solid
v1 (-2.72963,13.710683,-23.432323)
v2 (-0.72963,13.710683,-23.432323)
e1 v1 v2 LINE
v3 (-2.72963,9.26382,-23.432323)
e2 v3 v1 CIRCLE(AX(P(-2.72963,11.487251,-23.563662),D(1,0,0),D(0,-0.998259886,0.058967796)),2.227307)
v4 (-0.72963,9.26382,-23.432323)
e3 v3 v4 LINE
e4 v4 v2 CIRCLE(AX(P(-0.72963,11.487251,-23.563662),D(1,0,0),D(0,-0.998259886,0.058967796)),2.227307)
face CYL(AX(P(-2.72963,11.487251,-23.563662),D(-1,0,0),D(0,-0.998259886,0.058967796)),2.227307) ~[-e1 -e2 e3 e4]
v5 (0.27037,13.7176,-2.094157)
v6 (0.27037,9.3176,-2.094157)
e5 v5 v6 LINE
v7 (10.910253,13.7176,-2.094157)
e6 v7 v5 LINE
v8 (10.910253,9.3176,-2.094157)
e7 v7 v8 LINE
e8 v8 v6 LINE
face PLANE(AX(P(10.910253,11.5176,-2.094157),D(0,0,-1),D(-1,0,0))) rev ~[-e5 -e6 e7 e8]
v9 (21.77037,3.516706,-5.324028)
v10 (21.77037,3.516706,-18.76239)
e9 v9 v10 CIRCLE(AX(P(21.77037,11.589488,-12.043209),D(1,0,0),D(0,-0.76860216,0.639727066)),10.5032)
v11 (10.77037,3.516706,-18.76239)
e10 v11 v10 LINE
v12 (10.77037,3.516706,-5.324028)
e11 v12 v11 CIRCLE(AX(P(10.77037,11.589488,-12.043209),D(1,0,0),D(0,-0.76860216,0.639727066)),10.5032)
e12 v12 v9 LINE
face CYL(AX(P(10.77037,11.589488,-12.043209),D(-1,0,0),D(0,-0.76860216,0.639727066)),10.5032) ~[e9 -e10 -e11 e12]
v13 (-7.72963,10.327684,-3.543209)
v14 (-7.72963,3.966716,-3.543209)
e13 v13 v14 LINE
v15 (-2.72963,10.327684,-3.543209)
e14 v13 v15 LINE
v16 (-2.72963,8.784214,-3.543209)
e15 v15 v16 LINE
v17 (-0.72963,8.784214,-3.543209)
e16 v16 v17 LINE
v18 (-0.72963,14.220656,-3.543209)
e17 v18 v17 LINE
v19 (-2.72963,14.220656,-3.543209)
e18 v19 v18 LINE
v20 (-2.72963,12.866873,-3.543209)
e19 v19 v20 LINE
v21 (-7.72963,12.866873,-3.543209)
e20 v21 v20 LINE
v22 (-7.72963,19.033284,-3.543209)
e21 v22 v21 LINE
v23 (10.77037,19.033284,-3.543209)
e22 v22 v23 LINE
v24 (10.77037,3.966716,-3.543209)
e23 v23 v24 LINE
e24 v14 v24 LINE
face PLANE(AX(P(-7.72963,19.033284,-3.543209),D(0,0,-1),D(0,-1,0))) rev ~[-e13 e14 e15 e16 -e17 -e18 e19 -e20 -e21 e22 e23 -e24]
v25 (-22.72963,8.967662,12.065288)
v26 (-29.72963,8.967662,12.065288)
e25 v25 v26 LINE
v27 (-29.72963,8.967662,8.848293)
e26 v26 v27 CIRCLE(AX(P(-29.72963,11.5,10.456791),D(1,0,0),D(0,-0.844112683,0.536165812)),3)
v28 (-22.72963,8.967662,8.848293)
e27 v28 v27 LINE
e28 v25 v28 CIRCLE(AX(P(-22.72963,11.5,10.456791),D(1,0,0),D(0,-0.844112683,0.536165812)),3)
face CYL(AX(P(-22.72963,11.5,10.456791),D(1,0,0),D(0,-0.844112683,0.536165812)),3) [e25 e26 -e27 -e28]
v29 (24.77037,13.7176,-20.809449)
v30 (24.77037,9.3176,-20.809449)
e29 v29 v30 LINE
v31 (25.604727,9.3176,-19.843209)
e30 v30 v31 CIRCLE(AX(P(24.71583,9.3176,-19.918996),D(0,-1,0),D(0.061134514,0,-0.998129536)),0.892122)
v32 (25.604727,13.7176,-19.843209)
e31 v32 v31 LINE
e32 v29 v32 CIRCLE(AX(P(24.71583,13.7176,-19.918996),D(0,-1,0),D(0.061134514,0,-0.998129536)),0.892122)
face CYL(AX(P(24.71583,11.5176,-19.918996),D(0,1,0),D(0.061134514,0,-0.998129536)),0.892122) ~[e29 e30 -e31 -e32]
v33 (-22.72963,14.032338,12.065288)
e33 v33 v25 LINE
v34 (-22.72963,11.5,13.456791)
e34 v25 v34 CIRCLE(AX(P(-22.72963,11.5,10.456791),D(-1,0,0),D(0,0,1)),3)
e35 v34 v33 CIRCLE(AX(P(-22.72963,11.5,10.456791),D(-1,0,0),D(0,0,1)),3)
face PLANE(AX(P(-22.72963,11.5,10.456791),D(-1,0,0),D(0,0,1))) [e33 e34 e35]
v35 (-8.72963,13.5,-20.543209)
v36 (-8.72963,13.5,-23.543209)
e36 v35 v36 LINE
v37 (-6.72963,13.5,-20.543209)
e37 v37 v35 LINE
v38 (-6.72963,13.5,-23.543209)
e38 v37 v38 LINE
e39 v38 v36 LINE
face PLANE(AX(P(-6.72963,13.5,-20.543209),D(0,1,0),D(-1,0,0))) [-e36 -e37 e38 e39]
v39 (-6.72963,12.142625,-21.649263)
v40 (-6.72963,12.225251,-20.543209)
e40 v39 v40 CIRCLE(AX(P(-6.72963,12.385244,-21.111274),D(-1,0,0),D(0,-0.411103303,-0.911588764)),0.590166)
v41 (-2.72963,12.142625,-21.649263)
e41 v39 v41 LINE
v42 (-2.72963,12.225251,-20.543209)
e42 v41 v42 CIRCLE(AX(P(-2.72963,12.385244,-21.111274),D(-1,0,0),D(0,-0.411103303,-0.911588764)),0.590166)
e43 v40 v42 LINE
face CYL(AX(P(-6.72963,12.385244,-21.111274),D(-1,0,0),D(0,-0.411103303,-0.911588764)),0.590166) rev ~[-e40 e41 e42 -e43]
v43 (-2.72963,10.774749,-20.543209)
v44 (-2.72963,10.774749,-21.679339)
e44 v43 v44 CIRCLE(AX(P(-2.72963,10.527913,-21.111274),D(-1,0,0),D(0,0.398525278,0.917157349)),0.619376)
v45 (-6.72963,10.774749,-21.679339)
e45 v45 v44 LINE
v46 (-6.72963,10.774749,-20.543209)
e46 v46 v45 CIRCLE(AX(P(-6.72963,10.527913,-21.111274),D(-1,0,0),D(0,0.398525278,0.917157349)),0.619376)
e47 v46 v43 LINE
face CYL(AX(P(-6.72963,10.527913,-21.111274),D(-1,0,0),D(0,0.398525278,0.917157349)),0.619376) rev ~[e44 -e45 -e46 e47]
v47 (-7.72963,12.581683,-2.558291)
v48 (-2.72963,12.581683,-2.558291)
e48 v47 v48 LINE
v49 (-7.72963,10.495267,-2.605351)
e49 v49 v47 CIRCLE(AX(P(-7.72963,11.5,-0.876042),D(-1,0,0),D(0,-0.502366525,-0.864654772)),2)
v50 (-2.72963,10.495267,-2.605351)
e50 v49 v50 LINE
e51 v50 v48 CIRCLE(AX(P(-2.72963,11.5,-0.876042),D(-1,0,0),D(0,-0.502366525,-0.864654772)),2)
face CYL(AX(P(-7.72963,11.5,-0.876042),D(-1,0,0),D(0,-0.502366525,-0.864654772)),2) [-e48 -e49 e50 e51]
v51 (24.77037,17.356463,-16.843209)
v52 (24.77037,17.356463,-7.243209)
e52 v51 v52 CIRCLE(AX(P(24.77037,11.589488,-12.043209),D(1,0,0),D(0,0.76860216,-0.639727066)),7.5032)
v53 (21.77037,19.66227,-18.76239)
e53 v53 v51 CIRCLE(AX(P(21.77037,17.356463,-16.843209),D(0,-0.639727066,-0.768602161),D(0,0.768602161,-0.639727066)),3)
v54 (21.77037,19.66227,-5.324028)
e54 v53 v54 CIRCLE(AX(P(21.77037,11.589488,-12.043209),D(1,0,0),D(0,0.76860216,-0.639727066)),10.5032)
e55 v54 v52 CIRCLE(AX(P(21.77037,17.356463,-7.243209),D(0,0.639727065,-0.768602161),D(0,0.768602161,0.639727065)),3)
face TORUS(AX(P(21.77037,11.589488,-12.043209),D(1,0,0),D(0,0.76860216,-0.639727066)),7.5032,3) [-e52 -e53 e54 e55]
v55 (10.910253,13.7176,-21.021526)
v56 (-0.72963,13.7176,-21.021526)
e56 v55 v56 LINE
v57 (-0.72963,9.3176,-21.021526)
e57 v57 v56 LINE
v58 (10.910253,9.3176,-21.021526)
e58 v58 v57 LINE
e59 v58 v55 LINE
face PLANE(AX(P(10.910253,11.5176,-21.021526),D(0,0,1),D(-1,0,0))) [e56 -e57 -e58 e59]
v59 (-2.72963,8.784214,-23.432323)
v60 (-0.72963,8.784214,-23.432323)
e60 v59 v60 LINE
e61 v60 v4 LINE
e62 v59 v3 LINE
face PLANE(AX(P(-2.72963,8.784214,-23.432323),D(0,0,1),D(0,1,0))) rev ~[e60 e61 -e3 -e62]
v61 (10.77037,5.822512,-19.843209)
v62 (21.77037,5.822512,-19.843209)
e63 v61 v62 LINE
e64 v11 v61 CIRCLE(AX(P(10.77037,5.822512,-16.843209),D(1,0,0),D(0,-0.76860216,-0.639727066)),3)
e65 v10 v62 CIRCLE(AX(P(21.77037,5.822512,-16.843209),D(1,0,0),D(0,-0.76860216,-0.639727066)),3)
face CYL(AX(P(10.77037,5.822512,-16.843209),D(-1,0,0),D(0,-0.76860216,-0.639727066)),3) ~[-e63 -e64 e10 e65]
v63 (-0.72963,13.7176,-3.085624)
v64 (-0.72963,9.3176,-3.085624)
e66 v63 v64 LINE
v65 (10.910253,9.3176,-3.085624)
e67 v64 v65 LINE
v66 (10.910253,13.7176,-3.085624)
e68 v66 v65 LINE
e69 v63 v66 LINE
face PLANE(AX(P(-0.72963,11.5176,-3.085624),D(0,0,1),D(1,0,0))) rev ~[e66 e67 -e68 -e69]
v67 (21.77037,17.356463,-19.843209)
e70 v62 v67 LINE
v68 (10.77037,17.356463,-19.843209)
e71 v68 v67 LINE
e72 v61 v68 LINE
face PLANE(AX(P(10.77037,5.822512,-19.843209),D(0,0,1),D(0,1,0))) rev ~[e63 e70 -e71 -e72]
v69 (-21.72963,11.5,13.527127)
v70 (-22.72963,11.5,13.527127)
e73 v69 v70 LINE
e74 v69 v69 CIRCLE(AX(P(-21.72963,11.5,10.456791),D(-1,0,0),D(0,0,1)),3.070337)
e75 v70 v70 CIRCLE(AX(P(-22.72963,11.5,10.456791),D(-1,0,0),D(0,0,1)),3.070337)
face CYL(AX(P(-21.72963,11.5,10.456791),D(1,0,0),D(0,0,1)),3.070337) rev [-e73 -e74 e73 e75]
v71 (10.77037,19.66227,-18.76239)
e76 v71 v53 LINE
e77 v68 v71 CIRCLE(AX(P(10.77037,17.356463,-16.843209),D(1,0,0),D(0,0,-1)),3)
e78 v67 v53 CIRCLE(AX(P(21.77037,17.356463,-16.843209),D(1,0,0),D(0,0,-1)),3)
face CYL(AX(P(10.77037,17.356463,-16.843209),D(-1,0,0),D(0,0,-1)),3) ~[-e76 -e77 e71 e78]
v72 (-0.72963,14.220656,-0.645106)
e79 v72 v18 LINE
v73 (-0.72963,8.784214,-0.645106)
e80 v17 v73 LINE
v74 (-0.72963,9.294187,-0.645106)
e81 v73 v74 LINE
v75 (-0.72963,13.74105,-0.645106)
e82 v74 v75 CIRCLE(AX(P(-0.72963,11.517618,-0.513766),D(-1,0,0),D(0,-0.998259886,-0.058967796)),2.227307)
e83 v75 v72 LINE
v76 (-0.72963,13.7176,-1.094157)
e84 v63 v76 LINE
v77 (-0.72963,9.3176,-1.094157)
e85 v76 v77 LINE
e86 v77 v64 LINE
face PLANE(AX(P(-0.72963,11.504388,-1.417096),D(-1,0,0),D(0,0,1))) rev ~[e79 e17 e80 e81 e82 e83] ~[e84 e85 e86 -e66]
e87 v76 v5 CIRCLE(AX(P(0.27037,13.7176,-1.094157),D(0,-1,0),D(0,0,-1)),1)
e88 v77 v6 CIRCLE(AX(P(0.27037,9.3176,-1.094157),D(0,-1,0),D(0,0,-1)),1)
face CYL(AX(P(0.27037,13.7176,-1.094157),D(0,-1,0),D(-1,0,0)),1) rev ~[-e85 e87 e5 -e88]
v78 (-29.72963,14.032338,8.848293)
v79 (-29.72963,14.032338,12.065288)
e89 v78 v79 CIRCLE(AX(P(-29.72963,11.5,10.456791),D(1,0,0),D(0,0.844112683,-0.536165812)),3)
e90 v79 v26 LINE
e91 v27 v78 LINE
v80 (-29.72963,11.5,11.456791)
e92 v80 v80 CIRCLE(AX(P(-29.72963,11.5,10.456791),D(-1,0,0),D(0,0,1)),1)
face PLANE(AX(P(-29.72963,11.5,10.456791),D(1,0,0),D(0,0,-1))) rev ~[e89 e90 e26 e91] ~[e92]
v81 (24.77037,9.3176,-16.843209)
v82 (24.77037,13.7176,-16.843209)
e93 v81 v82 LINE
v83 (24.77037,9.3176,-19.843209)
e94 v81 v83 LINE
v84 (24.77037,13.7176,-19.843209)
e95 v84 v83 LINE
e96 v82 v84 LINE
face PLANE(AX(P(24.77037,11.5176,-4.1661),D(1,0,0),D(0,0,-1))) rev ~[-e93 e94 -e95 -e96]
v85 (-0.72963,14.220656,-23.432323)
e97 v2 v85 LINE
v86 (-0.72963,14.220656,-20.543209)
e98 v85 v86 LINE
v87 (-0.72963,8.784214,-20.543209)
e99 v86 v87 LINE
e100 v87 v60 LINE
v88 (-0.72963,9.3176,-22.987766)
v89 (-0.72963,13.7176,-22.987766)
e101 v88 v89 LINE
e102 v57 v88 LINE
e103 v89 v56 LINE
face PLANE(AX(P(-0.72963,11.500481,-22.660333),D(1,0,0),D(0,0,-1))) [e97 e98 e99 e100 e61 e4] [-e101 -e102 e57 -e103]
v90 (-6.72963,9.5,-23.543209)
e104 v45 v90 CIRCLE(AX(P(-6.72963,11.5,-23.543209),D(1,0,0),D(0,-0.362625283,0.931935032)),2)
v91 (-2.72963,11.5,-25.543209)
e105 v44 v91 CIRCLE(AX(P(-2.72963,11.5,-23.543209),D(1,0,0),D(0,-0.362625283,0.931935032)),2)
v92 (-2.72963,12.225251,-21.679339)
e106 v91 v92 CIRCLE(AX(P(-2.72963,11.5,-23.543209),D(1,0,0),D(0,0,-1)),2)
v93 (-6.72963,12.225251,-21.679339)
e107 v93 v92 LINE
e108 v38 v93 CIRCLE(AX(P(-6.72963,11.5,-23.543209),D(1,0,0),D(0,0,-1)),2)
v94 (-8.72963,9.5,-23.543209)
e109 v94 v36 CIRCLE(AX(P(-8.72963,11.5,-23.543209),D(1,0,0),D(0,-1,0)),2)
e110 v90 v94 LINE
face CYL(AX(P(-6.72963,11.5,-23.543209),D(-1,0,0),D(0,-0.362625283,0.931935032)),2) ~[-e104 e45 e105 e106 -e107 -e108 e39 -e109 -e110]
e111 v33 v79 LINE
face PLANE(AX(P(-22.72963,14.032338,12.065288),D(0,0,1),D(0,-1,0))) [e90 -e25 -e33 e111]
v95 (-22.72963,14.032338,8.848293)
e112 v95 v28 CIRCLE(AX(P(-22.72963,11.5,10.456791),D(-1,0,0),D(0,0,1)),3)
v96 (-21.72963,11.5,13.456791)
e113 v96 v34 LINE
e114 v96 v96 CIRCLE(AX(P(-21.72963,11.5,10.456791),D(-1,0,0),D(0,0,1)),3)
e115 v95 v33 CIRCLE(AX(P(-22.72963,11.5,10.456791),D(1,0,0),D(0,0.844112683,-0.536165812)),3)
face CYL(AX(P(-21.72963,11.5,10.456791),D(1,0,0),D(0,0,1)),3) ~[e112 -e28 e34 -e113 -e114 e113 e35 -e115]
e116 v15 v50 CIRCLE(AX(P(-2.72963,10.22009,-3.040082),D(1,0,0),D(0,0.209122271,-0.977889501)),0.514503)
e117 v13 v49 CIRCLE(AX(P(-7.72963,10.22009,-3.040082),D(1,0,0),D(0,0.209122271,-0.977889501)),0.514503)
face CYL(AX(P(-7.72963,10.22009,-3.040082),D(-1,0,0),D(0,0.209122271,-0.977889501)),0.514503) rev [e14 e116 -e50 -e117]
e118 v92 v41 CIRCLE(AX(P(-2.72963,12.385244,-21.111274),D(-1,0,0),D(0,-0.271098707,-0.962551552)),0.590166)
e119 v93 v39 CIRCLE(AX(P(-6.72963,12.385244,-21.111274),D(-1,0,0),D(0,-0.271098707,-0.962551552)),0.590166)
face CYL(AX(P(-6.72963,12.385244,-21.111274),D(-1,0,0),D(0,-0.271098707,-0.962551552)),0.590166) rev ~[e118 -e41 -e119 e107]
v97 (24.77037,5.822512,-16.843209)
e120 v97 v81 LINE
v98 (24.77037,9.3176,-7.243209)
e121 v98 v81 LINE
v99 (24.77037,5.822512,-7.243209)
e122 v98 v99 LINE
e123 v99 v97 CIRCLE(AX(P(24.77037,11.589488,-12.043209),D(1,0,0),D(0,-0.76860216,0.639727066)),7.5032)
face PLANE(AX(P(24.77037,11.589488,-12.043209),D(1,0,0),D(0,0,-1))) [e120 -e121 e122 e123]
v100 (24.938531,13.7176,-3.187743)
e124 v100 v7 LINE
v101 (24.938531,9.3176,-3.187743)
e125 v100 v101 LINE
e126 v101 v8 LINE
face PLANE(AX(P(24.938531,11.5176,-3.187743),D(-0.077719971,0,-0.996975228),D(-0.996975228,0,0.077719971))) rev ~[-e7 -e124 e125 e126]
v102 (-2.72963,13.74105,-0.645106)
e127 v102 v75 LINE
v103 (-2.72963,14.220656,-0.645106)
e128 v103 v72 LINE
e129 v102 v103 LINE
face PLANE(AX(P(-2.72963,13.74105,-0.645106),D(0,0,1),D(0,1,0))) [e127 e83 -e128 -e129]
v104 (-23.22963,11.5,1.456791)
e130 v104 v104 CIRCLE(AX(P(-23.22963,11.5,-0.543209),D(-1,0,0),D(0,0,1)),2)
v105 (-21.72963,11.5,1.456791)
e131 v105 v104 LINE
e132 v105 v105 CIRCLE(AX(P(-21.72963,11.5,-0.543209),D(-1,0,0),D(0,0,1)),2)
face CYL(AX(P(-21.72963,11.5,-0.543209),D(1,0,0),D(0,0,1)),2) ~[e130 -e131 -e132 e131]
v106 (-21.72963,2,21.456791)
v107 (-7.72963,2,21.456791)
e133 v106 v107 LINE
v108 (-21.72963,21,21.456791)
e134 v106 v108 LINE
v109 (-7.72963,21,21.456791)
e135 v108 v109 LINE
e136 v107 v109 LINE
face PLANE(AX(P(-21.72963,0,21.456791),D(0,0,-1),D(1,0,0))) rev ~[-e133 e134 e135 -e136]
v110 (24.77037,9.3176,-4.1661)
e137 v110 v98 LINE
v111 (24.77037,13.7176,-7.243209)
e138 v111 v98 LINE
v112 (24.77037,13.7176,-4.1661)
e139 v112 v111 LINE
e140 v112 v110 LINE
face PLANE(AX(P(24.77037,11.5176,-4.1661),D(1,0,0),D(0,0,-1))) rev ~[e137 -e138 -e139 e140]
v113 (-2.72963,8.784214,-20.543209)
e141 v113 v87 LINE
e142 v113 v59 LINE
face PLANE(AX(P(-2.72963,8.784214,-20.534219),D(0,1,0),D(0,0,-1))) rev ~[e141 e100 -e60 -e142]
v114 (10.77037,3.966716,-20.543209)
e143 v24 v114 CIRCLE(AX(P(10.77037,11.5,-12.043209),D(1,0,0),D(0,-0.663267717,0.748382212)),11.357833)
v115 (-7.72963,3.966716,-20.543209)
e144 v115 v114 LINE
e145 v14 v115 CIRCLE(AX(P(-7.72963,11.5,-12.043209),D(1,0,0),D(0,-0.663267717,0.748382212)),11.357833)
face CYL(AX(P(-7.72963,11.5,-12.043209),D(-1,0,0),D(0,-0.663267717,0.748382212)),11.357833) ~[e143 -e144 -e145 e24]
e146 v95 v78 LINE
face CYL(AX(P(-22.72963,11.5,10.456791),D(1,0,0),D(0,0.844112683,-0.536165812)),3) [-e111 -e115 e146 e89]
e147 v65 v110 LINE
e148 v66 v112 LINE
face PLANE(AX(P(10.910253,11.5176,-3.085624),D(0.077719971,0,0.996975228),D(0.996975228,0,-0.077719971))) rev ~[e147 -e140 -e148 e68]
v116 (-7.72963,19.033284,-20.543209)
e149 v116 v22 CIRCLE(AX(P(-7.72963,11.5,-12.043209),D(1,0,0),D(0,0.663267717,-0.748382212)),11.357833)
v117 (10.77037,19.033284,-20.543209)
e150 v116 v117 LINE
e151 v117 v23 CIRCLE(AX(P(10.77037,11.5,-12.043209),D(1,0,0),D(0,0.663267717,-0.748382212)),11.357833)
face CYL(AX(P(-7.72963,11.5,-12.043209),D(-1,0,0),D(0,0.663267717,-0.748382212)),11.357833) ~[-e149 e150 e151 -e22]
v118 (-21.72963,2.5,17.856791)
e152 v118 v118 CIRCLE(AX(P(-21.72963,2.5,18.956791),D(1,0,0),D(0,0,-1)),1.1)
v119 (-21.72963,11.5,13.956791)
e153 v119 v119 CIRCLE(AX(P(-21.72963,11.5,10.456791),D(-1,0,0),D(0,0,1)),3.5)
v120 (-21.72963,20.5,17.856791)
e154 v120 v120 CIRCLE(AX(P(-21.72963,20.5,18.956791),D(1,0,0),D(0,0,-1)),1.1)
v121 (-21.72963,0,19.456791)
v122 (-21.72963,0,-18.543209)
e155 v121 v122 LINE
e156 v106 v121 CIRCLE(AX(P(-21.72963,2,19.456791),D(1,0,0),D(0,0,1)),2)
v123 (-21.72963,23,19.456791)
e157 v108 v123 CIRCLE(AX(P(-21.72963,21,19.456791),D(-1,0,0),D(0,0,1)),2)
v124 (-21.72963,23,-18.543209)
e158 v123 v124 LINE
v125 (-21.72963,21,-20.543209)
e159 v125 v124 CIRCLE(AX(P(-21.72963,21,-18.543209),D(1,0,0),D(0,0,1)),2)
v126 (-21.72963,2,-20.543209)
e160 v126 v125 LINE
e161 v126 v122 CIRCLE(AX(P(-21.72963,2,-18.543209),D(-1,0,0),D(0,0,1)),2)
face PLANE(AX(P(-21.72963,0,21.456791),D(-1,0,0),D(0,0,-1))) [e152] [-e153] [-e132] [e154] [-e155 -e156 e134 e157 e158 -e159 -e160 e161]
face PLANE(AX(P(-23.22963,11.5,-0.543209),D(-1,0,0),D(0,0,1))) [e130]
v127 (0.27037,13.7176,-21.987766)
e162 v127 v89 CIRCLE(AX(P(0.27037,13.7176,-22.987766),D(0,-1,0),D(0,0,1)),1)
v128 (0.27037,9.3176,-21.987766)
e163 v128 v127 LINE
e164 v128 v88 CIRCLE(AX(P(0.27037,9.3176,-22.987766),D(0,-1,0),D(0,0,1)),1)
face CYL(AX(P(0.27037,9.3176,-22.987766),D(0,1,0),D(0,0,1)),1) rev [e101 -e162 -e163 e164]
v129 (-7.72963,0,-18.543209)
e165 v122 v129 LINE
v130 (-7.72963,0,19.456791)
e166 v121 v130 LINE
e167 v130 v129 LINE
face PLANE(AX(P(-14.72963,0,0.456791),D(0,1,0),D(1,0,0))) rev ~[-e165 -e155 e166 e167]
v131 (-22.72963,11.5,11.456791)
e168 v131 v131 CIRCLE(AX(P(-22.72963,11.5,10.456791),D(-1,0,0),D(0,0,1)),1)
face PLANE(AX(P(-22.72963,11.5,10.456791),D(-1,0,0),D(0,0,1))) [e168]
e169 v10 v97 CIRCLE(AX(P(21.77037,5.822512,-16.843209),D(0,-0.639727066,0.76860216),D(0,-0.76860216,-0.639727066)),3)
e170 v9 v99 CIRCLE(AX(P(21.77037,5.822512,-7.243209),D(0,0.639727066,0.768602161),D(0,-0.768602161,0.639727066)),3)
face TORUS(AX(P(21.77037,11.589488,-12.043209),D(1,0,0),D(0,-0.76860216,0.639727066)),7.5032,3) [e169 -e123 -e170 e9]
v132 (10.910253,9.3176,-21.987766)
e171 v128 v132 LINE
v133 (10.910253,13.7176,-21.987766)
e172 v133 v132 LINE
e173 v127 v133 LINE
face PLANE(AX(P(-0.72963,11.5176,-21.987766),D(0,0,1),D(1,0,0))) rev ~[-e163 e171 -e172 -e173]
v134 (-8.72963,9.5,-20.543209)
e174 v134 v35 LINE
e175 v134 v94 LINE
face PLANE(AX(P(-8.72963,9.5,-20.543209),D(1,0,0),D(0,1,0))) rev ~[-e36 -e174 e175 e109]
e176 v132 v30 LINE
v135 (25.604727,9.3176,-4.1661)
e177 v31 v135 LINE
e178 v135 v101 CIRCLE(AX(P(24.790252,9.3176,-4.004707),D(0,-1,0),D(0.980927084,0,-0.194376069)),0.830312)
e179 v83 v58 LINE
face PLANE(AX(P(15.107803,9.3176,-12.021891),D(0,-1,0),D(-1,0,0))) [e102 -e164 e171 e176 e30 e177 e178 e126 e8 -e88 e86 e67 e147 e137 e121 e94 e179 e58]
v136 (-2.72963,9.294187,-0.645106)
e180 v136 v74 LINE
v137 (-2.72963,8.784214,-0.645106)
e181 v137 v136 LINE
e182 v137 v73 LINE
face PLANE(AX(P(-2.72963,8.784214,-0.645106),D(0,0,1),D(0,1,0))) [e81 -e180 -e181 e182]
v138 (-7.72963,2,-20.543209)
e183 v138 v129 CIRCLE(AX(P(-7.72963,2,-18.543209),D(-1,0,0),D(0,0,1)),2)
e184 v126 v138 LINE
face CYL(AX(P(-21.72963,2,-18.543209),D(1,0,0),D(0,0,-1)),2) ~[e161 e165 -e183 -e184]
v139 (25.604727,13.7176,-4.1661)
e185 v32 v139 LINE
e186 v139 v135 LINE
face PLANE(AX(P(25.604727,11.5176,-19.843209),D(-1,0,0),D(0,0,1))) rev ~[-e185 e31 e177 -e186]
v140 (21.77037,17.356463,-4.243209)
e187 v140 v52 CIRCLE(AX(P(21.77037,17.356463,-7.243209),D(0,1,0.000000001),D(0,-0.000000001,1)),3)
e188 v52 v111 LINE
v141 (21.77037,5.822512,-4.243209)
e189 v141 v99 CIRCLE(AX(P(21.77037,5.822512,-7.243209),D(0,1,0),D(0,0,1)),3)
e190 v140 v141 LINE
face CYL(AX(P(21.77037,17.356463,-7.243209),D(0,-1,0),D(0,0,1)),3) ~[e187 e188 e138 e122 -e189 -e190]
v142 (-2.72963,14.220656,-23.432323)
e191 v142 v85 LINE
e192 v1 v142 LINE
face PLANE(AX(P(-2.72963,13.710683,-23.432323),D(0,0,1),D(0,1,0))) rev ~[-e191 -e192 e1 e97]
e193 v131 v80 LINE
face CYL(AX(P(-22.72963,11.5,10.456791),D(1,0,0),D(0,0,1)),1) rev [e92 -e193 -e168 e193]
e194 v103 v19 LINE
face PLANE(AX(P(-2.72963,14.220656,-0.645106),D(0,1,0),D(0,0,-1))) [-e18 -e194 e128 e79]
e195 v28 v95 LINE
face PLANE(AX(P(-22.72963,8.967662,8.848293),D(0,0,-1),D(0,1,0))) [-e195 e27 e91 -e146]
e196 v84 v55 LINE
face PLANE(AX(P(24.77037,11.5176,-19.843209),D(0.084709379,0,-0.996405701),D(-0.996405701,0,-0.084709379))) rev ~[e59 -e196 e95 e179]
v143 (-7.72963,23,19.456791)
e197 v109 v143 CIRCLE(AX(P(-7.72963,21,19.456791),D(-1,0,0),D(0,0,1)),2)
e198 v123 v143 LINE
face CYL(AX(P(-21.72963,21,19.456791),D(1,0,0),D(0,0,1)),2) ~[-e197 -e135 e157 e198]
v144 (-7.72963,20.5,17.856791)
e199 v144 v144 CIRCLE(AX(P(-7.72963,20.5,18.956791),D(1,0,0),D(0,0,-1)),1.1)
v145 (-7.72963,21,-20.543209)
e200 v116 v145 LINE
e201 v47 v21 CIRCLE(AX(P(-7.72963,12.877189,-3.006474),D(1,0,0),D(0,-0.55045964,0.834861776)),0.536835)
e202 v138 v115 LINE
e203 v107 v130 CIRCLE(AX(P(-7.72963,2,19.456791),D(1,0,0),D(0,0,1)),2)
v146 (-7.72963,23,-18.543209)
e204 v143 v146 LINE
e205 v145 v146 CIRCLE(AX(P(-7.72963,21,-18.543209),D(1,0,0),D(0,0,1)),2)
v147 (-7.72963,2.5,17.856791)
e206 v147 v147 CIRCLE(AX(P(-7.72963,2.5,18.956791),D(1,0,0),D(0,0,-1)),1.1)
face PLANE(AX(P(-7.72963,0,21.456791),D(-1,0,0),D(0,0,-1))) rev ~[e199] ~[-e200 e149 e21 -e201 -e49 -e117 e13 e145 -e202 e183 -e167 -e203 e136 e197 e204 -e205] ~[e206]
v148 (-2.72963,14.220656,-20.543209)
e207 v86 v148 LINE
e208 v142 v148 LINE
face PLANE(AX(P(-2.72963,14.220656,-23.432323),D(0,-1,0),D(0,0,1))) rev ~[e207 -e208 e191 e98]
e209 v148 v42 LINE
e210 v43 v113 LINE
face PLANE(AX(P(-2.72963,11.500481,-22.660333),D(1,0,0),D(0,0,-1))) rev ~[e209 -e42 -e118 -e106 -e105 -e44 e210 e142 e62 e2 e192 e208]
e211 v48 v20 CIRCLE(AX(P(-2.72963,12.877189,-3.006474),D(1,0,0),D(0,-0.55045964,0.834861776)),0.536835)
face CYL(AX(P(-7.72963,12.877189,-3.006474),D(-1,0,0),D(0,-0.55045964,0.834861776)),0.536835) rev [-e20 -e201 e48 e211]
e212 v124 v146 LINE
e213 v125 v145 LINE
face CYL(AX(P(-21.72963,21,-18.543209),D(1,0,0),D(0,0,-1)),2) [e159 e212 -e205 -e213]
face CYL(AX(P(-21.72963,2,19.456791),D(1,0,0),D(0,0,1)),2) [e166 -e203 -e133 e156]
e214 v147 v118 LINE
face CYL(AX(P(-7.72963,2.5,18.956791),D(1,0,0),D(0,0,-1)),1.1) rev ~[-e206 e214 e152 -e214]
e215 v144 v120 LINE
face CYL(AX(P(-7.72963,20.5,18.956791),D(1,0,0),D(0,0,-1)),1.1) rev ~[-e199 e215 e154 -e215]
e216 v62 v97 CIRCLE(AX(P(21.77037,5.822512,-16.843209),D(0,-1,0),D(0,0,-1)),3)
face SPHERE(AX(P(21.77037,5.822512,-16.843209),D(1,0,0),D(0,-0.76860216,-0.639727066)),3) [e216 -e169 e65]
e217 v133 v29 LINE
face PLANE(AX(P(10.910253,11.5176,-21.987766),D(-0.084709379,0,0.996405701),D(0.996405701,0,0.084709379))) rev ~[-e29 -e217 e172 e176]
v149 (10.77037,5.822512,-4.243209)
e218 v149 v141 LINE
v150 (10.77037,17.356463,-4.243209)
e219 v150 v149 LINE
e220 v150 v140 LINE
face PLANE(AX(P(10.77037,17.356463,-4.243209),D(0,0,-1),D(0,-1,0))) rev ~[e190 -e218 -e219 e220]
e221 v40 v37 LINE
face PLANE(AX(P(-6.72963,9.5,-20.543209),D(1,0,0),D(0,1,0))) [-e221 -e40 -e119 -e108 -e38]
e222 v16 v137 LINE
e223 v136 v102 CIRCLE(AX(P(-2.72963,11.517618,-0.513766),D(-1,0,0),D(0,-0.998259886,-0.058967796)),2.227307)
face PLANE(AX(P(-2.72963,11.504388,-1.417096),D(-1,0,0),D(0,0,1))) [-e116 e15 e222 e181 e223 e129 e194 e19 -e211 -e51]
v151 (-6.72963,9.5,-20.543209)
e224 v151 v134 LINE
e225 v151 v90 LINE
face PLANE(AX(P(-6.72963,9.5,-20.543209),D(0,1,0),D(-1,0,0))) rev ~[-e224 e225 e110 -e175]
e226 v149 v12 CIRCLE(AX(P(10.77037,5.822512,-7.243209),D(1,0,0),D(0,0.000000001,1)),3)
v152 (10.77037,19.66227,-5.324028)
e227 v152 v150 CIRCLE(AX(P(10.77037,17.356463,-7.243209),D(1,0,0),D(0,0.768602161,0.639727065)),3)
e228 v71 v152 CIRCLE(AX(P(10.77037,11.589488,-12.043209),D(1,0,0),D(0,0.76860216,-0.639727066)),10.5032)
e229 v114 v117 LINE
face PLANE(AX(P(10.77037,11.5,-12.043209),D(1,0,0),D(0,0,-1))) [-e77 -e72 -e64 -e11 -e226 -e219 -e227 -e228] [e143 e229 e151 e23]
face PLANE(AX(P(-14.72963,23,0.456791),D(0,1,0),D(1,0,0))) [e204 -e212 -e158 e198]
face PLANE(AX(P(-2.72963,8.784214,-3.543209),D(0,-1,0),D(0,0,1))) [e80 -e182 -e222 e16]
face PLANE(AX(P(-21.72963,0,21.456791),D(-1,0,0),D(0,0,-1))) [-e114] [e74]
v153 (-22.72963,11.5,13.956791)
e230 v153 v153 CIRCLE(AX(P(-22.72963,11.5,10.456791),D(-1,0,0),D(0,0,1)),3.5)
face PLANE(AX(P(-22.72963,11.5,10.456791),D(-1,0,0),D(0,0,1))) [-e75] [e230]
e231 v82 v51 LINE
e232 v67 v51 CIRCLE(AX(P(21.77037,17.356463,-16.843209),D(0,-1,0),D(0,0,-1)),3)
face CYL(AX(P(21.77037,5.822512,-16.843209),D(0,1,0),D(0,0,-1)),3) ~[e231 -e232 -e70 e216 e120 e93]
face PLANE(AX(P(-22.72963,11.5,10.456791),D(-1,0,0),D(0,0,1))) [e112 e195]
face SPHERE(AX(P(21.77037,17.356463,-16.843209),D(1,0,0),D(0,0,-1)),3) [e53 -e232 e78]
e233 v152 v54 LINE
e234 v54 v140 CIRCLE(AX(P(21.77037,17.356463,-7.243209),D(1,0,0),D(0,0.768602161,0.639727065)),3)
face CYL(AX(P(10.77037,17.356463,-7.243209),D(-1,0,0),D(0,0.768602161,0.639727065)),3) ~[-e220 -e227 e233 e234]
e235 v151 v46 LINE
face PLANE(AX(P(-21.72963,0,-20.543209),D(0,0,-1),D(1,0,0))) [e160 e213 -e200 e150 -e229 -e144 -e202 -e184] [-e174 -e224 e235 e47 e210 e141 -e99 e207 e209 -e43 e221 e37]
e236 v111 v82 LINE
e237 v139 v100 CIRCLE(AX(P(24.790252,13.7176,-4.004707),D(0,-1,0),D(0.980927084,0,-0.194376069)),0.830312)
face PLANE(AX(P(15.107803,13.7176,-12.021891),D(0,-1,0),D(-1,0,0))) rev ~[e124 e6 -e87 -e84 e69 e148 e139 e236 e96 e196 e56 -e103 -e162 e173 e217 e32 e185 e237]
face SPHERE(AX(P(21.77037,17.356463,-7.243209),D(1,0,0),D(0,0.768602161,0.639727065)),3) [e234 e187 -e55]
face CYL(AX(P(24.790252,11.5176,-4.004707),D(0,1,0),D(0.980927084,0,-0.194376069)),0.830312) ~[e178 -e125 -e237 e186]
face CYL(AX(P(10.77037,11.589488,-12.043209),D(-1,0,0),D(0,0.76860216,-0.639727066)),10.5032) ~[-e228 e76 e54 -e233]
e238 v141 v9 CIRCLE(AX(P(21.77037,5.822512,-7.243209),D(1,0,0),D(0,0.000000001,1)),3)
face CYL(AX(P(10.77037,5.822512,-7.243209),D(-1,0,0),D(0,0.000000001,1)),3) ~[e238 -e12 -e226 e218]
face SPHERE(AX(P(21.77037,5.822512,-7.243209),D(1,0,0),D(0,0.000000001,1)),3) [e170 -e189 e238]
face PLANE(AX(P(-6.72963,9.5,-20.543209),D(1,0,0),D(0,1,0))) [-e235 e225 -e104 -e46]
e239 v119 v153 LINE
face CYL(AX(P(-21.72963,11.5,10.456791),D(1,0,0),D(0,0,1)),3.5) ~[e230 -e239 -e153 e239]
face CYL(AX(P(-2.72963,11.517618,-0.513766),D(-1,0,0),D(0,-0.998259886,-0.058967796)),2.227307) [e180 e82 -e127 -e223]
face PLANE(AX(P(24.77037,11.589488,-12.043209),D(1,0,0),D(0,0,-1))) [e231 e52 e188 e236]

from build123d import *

# Parameters (mm, degrees)
SKETCH1_W                = 14
SKETCH1_H                = 42
MAIN_BODY_DEPTH          = 23
FILLET1_R                = 2
MOTOR_HOLDER_DEPTH       = 18.5
BOSS_EXTRUDE3_DEPTH      = 5
SKETCH4_R                = 1.1
NUT_HOLES_DEPTH          = 15
SKETCH5_W                = 2
SKETCH5_H                = 4
BOSS_EXTRUDE4_DEPTH      = 5
BOSS_EXTRUDE5_DEPTH      = 4
CUT_EXTRUDE2_DEPTH       = 2
BOSS_EXTRUDE6_DEPTH      = 14
BOSS_EXTRUDE7_DEPTH      = 2
FILLET2_R                = 3
BOSS_EXTRUDE8_DEPTH      = 2.2
BOSS_EXTRUDE8_DEPTH_BACK = 2.2
FILLET3_R                = 1
SKETCH12_R               = 3.5
SKETCH12_R_2             = 3.070336519
BOSS_EXTRUDE9_DEPTH      = 1
SKETCH14_R               = 3
BOSS_EXTRUDE10_DEPTH     = 1
SKETCH15_R               = 1
SHAFT_DEPTH              = 7
SKETCH16_R               = 2
BOSS_EXTRUDE12_DEPTH     = 1.5


with BuildPart() as part:
    # Sketch1 → Main Body (new body)
    with BuildSketch(Plane(origin=(0, 0, 0), x_dir=(1, 0, 0), z_dir=(0, 1, 0))):
        with Locations((-14.72963025, -0.456790856)):
            Rectangle(SKETCH1_W, SKETCH1_H)
    extrude(amount=MAIN_BODY_DEPTH)

    # Fillet1
    fillet1_edges = [part.edges().sort_by_distance(p)[0] for p in [
        (-14.72963025, 23, -20.543209144),
        (-14.72963025, 0, -20.543209144),
        (-14.72963025, 0, 21.456790856),
        (-14.72963025, 23, 21.456790856),
    ]]
    fillet(fillet1_edges, radius=FILLET1_R)

    # Sketch2 → Motor Holder (add)
    with BuildSketch(Plane(origin=(-7.72963025, 0, 0), x_dir=(0, 0, -1), z_dir=(1, 0, 0))):
        with BuildLine():
            Line((3.543209144, 19.033283793), (3.543209144, 3.966716207))
            ThreePointArc((3.543209144, 3.966716207), (12.043209144, 0.142167253), (20.543209144, 3.966716207))
            Line((20.543209144, 3.966716207), (20.543209144, 19.033283793))
            ThreePointArc((20.543209144, 19.033283793), (12.043209144, 22.857832747), (3.543209144, 19.033283793))
        make_face()
    extrude(amount=MOTOR_HOLDER_DEPTH)

    # Sketch3 → Boss-Extrude3 (add)
    with BuildSketch(Plane(origin=(-7.72963025, 0, 0), x_dir=(0, 0, -1), z_dir=(1, 0, 0))):
        with BuildLine():
            Line((3.543209144, 12.866872794), (3.543209144, 10.327683852))
            ThreePointArc((3.543209144, 10.327683852), (3.130583543, 10.726570697), (2.605351044, 10.495266949))
            ThreePointArc((2.605351044, 10.495266949), (-1.12344994, 11.454900344), (2.558290761, 12.581682682))
            ThreePointArc((2.558290761, 12.581682682), (3.155784465, 12.361535772), (3.543209144, 12.866872794))
        make_face()
    extrude(amount=BOSS_EXTRUDE3_DEPTH)

    # Sketch4 → Nut Holes (cut)
    with BuildSketch(Plane(origin=(-7.72963025, 0, 0), x_dir=(0, 0, -1), z_dir=(1, 0, 0))):
        with Locations((-18.956790856, 20.5)):
            Circle(SKETCH4_R)
        with Locations((-18.956790856, 2.5)):
            Circle(SKETCH4_R)
    extrude(amount=-NUT_HOLES_DEPTH, mode=Mode.SUBTRACT)

    # Sketch5 → Boss-Extrude4 (add)
    with BuildSketch(Plane(origin=(0, 0, -20.543209144), x_dir=(-1, 0, 0), z_dir=(0, 0, -1))):
        with Locations((7.72963025, 11.5)):
            Rectangle(SKETCH5_W, SKETCH5_H)
    extrude(amount=BOSS_EXTRUDE4_DEPTH)

    # Sketch6 → Boss-Extrude5 (add)
    with BuildSketch(Plane(origin=(-6.72963025, 0, 0), x_dir=(0, 0, -1), z_dir=(1, 0, 0))):
        with BuildLine():
            ThreePointArc((21.679339079, 10.774749435), (23.912167048, 9.534327071), (25.543209144, 11.5))
            ThreePointArc((25.543209144, 11.5), (23.912167048, 13.465672929), (21.679339079, 12.225250565))
            ThreePointArc((21.679339079, 12.225250565), (21.665841795, 12.183376686), (21.649262587, 12.142624651))
            ThreePointArc((21.649262587, 12.142624651), (21.543692429, 11.456035136), (21.679339079, 10.774749435))
        make_face()
        with BuildLine():
            ThreePointArc((20.543209144, 10.774749435), (21.111274111, 11.147288257), (21.679339079, 10.774749435))
            ThreePointArc((21.679339079, 10.774749435), (21.543692429, 11.456035136), (21.649262587, 12.142624651))
            ThreePointArc((21.649262587, 12.142624651), (21.067309248, 11.796717861), (20.543209144, 12.225250565))
            Line((20.543209144, 12.225250565), (20.543209144, 10.774749435))
        make_face()
    extrude(amount=BOSS_EXTRUDE5_DEPTH)

    # Sketch7 → Cut-Extrude2 (cut)
    with BuildSketch(Plane(origin=(-6.72963025, 0, 0), x_dir=(0, 0, -1), z_dir=(1, 0, 0))):
        with BuildLine():
            Line((23.543209144, 13.5), (23.543209144, 13.967200788))
            Line((23.543209144, 13.967200788), (25.760178749, 13.967200788))
            Line((25.760178749, 13.967200788), (25.760178749, 8.970470958))
            Line((25.760178749, 8.970470958), (23.543209144, 8.970470958))
            Line((23.543209144, 8.970470958), (23.543209144, 9.5))
            ThreePointArc((23.543209144, 9.5), (25.543209144, 11.5), (23.543209144, 13.5))
        make_face()
    extrude(amount=-CUT_EXTRUDE2_DEPTH, mode=Mode.SUBTRACT)

    # Sketch8 → Boss-Extrude6 (add)
    with BuildSketch(Plane(origin=(10.77036975, 0, 0), x_dir=(0, 0, -1), z_dir=(1, 0, 0))):
        with BuildLine():
            Line((4.243209144, 17.35646316), (4.243209144, 5.822511997))
            ThreePointArc((4.243209144, 5.822511997), (4.526819665, 4.549237399), (5.324027945, 3.516705516))
            ThreePointArc((5.324027945, 3.516705516), (12.043209144, 1.086287771), (18.762390342, 3.516705516))
            ThreePointArc((18.762390342, 3.516705516), (19.559598622, 4.549237399), (19.843209144, 5.822511997))
            Line((19.843209144, 5.822511997), (19.843209144, 17.35646316))
            ThreePointArc((19.843209144, 17.35646316), (19.559598622, 18.629737758), (18.762390342, 19.66226964))
            ThreePointArc((18.762390342, 19.66226964), (12.043209144, 22.092687386), (5.324027945, 19.66226964))
            ThreePointArc((5.324027945, 19.66226964), (4.526819665, 18.629737758), (4.243209144, 17.35646316))
        make_face()
    extrude(amount=BOSS_EXTRUDE6_DEPTH)

    # Sketch9 → Boss-Extrude7 (add)
    with BuildSketch(Plane(origin=(-2.72963025, 0, 0), x_dir=(0, 0, -1), z_dir=(1, 0, 0))):
        with BuildLine():
            Line((20.534219475, 8.784213792), (23.432322776, 8.784213792))
            Line((23.432322776, 8.784213792), (23.432322776, 9.263820028))
            ThreePointArc((23.432322776, 9.263820028), (25.790969288, 11.48725138), (23.432322776, 13.710682731))
            Line((23.432322776, 13.710682731), (23.432322776, 14.220655847))
            Line((23.432322776, 14.220655847), (20.534219475, 14.220655847))
            Line((20.534219475, 14.220655847), (20.534219475, 8.784213792))
        make_face()
        with BuildLine():
            Line((3.543209144, 8.784213792), (0.645105842, 8.784213792))
            Line((0.645105842, 8.784213792), (0.645105842, 9.294186907))
            ThreePointArc((0.645105842, 9.294186907), (-1.71354067, 11.517618258), (0.645105842, 13.74104961))
            Line((0.645105842, 13.74104961), (0.645105842, 14.220655847))
            Line((0.645105842, 14.220655847), (3.543209144, 14.220655847))
            Line((3.543209144, 14.220655847), (3.543209144, 8.784213792))
        make_face()
    extrude(amount=BOSS_EXTRUDE7_DEPTH)

    # Fillet2
    fillet2_edges = [part.edges().sort_by_distance(p)[0] for p in [
        (24.77036975, 18.629737758, -4.526819665),
        (24.77036975, 11.589487578, -4.243209144),
        (24.77036975, 4.549237399, -4.526819665),
        (24.77036975, 1.086287771, -12.043209144),
        (24.77036975, 4.549237399, -19.559598622),
        (24.77036975, 11.589487578, -19.843209144),
        (24.77036975, 18.629737758, -19.559598622),
        (24.77036975, 22.092687386, -12.043209144),
    ]]
    fillet(fillet2_edges, radius=FILLET2_R)

    # Sketch10 → Boss-Extrude8 (add, two sides)
    with BuildSketch(Plane(origin=(0, 11.5176, 0), x_dir=(1, 0, 0), z_dir=(0, 1, 0))) as boss_extrude8_sk:
        with BuildLine():
            Line((-0.72963025, 21.98776596), (10.910253109, 21.98776596))
            Line((10.910253109, 21.98776596), (24.77036975, 20.809448862))
            ThreePointArc((24.77036975, 20.809448862), (25.391050954, 20.50205534), (25.604727399, 19.843209144))
            Line((25.604727399, 19.843209144), (25.604727399, 4.166099851))
            ThreePointArc((25.604727399, 4.166099851), (25.476560723, 3.537376336), (24.938530753, 3.187742664))
            Line((24.938530753, 3.187742664), (10.910253109, 2.094157493))
            Line((10.910253109, 2.094157493), (-0.72963025, 2.094157493))
            Line((-0.72963025, 2.094157493), (-0.72963025, 3.0856238))
            Line((-0.72963025, 3.0856238), (10.910253109, 3.0856238))
            Line((10.910253109, 3.0856238), (24.77036975, 4.166099851))
            Line((24.77036975, 4.166099851), (24.77036975, 19.843209144))
            Line((24.77036975, 19.843209144), (10.910253109, 21.021526241))
            Line((10.910253109, 21.021526241), (-0.72963025, 21.021526241))
            Line((-0.72963025, 21.021526241), (-0.72963025, 21.98776596))
        make_face()
    extrude(amount=BOSS_EXTRUDE8_DEPTH)
    extrude(boss_extrude8_sk.sketch, amount=-BOSS_EXTRUDE8_DEPTH_BACK)

    # Fillet3
    fillet3_edges = [part.edges().sort_by_distance(p)[0] for p in [
        (-0.72963025, 11.5176, -21.98776596),
        (-0.72963025, 11.5176, -2.094157493),
    ]]
    fillet(fillet3_edges, radius=FILLET3_R)

    # Sketch12 → Boss-Extrude9 (add)
    with BuildSketch(Plane.ZY.offset(21.72963025)):
        with Locations((10.456790856, 11.5)):
            Circle(SKETCH12_R)
        with Locations((10.456790856, 11.5)):
            Circle(SKETCH12_R_2, mode=Mode.SUBTRACT)
    extrude(amount=BOSS_EXTRUDE9_DEPTH)

    # Sketch14 → Boss-Extrude10 (add)
    with BuildSketch(Plane.ZY.offset(21.72963025)):
        with Locations((10.456790856, 11.5)):
            Circle(SKETCH14_R)
    extrude(amount=BOSS_EXTRUDE10_DEPTH)

    # Sketch15 → Shaft (add)
    with BuildSketch(Plane.ZY.offset(22.72963025)):
        with BuildLine():
            Line((8.848293419, 8.967661951), (8.848293419, 14.032338049))
            ThreePointArc((8.848293419, 14.032338049), (10.456790856, 14.5), (12.065288294, 14.032338049))
            Line((12.065288294, 14.032338049), (12.065288294, 8.967661951))
            ThreePointArc((12.065288294, 8.967661951), (10.456790856, 8.5), (8.848293419, 8.967661951))
        make_face()
        with Locations((10.456790856, 11.5)):
            Circle(SKETCH15_R, mode=Mode.SUBTRACT)
    extrude(amount=SHAFT_DEPTH)

    # Sketch16 → Boss-Extrude12 (add)
    with BuildSketch(Plane.ZY.offset(21.72963025)):
        with Locations((-0.543209144, 11.5)):
            Circle(SKETCH16_R)
    extrude(amount=BOSS_EXTRUDE12_DEPTH)


solid = part.part
